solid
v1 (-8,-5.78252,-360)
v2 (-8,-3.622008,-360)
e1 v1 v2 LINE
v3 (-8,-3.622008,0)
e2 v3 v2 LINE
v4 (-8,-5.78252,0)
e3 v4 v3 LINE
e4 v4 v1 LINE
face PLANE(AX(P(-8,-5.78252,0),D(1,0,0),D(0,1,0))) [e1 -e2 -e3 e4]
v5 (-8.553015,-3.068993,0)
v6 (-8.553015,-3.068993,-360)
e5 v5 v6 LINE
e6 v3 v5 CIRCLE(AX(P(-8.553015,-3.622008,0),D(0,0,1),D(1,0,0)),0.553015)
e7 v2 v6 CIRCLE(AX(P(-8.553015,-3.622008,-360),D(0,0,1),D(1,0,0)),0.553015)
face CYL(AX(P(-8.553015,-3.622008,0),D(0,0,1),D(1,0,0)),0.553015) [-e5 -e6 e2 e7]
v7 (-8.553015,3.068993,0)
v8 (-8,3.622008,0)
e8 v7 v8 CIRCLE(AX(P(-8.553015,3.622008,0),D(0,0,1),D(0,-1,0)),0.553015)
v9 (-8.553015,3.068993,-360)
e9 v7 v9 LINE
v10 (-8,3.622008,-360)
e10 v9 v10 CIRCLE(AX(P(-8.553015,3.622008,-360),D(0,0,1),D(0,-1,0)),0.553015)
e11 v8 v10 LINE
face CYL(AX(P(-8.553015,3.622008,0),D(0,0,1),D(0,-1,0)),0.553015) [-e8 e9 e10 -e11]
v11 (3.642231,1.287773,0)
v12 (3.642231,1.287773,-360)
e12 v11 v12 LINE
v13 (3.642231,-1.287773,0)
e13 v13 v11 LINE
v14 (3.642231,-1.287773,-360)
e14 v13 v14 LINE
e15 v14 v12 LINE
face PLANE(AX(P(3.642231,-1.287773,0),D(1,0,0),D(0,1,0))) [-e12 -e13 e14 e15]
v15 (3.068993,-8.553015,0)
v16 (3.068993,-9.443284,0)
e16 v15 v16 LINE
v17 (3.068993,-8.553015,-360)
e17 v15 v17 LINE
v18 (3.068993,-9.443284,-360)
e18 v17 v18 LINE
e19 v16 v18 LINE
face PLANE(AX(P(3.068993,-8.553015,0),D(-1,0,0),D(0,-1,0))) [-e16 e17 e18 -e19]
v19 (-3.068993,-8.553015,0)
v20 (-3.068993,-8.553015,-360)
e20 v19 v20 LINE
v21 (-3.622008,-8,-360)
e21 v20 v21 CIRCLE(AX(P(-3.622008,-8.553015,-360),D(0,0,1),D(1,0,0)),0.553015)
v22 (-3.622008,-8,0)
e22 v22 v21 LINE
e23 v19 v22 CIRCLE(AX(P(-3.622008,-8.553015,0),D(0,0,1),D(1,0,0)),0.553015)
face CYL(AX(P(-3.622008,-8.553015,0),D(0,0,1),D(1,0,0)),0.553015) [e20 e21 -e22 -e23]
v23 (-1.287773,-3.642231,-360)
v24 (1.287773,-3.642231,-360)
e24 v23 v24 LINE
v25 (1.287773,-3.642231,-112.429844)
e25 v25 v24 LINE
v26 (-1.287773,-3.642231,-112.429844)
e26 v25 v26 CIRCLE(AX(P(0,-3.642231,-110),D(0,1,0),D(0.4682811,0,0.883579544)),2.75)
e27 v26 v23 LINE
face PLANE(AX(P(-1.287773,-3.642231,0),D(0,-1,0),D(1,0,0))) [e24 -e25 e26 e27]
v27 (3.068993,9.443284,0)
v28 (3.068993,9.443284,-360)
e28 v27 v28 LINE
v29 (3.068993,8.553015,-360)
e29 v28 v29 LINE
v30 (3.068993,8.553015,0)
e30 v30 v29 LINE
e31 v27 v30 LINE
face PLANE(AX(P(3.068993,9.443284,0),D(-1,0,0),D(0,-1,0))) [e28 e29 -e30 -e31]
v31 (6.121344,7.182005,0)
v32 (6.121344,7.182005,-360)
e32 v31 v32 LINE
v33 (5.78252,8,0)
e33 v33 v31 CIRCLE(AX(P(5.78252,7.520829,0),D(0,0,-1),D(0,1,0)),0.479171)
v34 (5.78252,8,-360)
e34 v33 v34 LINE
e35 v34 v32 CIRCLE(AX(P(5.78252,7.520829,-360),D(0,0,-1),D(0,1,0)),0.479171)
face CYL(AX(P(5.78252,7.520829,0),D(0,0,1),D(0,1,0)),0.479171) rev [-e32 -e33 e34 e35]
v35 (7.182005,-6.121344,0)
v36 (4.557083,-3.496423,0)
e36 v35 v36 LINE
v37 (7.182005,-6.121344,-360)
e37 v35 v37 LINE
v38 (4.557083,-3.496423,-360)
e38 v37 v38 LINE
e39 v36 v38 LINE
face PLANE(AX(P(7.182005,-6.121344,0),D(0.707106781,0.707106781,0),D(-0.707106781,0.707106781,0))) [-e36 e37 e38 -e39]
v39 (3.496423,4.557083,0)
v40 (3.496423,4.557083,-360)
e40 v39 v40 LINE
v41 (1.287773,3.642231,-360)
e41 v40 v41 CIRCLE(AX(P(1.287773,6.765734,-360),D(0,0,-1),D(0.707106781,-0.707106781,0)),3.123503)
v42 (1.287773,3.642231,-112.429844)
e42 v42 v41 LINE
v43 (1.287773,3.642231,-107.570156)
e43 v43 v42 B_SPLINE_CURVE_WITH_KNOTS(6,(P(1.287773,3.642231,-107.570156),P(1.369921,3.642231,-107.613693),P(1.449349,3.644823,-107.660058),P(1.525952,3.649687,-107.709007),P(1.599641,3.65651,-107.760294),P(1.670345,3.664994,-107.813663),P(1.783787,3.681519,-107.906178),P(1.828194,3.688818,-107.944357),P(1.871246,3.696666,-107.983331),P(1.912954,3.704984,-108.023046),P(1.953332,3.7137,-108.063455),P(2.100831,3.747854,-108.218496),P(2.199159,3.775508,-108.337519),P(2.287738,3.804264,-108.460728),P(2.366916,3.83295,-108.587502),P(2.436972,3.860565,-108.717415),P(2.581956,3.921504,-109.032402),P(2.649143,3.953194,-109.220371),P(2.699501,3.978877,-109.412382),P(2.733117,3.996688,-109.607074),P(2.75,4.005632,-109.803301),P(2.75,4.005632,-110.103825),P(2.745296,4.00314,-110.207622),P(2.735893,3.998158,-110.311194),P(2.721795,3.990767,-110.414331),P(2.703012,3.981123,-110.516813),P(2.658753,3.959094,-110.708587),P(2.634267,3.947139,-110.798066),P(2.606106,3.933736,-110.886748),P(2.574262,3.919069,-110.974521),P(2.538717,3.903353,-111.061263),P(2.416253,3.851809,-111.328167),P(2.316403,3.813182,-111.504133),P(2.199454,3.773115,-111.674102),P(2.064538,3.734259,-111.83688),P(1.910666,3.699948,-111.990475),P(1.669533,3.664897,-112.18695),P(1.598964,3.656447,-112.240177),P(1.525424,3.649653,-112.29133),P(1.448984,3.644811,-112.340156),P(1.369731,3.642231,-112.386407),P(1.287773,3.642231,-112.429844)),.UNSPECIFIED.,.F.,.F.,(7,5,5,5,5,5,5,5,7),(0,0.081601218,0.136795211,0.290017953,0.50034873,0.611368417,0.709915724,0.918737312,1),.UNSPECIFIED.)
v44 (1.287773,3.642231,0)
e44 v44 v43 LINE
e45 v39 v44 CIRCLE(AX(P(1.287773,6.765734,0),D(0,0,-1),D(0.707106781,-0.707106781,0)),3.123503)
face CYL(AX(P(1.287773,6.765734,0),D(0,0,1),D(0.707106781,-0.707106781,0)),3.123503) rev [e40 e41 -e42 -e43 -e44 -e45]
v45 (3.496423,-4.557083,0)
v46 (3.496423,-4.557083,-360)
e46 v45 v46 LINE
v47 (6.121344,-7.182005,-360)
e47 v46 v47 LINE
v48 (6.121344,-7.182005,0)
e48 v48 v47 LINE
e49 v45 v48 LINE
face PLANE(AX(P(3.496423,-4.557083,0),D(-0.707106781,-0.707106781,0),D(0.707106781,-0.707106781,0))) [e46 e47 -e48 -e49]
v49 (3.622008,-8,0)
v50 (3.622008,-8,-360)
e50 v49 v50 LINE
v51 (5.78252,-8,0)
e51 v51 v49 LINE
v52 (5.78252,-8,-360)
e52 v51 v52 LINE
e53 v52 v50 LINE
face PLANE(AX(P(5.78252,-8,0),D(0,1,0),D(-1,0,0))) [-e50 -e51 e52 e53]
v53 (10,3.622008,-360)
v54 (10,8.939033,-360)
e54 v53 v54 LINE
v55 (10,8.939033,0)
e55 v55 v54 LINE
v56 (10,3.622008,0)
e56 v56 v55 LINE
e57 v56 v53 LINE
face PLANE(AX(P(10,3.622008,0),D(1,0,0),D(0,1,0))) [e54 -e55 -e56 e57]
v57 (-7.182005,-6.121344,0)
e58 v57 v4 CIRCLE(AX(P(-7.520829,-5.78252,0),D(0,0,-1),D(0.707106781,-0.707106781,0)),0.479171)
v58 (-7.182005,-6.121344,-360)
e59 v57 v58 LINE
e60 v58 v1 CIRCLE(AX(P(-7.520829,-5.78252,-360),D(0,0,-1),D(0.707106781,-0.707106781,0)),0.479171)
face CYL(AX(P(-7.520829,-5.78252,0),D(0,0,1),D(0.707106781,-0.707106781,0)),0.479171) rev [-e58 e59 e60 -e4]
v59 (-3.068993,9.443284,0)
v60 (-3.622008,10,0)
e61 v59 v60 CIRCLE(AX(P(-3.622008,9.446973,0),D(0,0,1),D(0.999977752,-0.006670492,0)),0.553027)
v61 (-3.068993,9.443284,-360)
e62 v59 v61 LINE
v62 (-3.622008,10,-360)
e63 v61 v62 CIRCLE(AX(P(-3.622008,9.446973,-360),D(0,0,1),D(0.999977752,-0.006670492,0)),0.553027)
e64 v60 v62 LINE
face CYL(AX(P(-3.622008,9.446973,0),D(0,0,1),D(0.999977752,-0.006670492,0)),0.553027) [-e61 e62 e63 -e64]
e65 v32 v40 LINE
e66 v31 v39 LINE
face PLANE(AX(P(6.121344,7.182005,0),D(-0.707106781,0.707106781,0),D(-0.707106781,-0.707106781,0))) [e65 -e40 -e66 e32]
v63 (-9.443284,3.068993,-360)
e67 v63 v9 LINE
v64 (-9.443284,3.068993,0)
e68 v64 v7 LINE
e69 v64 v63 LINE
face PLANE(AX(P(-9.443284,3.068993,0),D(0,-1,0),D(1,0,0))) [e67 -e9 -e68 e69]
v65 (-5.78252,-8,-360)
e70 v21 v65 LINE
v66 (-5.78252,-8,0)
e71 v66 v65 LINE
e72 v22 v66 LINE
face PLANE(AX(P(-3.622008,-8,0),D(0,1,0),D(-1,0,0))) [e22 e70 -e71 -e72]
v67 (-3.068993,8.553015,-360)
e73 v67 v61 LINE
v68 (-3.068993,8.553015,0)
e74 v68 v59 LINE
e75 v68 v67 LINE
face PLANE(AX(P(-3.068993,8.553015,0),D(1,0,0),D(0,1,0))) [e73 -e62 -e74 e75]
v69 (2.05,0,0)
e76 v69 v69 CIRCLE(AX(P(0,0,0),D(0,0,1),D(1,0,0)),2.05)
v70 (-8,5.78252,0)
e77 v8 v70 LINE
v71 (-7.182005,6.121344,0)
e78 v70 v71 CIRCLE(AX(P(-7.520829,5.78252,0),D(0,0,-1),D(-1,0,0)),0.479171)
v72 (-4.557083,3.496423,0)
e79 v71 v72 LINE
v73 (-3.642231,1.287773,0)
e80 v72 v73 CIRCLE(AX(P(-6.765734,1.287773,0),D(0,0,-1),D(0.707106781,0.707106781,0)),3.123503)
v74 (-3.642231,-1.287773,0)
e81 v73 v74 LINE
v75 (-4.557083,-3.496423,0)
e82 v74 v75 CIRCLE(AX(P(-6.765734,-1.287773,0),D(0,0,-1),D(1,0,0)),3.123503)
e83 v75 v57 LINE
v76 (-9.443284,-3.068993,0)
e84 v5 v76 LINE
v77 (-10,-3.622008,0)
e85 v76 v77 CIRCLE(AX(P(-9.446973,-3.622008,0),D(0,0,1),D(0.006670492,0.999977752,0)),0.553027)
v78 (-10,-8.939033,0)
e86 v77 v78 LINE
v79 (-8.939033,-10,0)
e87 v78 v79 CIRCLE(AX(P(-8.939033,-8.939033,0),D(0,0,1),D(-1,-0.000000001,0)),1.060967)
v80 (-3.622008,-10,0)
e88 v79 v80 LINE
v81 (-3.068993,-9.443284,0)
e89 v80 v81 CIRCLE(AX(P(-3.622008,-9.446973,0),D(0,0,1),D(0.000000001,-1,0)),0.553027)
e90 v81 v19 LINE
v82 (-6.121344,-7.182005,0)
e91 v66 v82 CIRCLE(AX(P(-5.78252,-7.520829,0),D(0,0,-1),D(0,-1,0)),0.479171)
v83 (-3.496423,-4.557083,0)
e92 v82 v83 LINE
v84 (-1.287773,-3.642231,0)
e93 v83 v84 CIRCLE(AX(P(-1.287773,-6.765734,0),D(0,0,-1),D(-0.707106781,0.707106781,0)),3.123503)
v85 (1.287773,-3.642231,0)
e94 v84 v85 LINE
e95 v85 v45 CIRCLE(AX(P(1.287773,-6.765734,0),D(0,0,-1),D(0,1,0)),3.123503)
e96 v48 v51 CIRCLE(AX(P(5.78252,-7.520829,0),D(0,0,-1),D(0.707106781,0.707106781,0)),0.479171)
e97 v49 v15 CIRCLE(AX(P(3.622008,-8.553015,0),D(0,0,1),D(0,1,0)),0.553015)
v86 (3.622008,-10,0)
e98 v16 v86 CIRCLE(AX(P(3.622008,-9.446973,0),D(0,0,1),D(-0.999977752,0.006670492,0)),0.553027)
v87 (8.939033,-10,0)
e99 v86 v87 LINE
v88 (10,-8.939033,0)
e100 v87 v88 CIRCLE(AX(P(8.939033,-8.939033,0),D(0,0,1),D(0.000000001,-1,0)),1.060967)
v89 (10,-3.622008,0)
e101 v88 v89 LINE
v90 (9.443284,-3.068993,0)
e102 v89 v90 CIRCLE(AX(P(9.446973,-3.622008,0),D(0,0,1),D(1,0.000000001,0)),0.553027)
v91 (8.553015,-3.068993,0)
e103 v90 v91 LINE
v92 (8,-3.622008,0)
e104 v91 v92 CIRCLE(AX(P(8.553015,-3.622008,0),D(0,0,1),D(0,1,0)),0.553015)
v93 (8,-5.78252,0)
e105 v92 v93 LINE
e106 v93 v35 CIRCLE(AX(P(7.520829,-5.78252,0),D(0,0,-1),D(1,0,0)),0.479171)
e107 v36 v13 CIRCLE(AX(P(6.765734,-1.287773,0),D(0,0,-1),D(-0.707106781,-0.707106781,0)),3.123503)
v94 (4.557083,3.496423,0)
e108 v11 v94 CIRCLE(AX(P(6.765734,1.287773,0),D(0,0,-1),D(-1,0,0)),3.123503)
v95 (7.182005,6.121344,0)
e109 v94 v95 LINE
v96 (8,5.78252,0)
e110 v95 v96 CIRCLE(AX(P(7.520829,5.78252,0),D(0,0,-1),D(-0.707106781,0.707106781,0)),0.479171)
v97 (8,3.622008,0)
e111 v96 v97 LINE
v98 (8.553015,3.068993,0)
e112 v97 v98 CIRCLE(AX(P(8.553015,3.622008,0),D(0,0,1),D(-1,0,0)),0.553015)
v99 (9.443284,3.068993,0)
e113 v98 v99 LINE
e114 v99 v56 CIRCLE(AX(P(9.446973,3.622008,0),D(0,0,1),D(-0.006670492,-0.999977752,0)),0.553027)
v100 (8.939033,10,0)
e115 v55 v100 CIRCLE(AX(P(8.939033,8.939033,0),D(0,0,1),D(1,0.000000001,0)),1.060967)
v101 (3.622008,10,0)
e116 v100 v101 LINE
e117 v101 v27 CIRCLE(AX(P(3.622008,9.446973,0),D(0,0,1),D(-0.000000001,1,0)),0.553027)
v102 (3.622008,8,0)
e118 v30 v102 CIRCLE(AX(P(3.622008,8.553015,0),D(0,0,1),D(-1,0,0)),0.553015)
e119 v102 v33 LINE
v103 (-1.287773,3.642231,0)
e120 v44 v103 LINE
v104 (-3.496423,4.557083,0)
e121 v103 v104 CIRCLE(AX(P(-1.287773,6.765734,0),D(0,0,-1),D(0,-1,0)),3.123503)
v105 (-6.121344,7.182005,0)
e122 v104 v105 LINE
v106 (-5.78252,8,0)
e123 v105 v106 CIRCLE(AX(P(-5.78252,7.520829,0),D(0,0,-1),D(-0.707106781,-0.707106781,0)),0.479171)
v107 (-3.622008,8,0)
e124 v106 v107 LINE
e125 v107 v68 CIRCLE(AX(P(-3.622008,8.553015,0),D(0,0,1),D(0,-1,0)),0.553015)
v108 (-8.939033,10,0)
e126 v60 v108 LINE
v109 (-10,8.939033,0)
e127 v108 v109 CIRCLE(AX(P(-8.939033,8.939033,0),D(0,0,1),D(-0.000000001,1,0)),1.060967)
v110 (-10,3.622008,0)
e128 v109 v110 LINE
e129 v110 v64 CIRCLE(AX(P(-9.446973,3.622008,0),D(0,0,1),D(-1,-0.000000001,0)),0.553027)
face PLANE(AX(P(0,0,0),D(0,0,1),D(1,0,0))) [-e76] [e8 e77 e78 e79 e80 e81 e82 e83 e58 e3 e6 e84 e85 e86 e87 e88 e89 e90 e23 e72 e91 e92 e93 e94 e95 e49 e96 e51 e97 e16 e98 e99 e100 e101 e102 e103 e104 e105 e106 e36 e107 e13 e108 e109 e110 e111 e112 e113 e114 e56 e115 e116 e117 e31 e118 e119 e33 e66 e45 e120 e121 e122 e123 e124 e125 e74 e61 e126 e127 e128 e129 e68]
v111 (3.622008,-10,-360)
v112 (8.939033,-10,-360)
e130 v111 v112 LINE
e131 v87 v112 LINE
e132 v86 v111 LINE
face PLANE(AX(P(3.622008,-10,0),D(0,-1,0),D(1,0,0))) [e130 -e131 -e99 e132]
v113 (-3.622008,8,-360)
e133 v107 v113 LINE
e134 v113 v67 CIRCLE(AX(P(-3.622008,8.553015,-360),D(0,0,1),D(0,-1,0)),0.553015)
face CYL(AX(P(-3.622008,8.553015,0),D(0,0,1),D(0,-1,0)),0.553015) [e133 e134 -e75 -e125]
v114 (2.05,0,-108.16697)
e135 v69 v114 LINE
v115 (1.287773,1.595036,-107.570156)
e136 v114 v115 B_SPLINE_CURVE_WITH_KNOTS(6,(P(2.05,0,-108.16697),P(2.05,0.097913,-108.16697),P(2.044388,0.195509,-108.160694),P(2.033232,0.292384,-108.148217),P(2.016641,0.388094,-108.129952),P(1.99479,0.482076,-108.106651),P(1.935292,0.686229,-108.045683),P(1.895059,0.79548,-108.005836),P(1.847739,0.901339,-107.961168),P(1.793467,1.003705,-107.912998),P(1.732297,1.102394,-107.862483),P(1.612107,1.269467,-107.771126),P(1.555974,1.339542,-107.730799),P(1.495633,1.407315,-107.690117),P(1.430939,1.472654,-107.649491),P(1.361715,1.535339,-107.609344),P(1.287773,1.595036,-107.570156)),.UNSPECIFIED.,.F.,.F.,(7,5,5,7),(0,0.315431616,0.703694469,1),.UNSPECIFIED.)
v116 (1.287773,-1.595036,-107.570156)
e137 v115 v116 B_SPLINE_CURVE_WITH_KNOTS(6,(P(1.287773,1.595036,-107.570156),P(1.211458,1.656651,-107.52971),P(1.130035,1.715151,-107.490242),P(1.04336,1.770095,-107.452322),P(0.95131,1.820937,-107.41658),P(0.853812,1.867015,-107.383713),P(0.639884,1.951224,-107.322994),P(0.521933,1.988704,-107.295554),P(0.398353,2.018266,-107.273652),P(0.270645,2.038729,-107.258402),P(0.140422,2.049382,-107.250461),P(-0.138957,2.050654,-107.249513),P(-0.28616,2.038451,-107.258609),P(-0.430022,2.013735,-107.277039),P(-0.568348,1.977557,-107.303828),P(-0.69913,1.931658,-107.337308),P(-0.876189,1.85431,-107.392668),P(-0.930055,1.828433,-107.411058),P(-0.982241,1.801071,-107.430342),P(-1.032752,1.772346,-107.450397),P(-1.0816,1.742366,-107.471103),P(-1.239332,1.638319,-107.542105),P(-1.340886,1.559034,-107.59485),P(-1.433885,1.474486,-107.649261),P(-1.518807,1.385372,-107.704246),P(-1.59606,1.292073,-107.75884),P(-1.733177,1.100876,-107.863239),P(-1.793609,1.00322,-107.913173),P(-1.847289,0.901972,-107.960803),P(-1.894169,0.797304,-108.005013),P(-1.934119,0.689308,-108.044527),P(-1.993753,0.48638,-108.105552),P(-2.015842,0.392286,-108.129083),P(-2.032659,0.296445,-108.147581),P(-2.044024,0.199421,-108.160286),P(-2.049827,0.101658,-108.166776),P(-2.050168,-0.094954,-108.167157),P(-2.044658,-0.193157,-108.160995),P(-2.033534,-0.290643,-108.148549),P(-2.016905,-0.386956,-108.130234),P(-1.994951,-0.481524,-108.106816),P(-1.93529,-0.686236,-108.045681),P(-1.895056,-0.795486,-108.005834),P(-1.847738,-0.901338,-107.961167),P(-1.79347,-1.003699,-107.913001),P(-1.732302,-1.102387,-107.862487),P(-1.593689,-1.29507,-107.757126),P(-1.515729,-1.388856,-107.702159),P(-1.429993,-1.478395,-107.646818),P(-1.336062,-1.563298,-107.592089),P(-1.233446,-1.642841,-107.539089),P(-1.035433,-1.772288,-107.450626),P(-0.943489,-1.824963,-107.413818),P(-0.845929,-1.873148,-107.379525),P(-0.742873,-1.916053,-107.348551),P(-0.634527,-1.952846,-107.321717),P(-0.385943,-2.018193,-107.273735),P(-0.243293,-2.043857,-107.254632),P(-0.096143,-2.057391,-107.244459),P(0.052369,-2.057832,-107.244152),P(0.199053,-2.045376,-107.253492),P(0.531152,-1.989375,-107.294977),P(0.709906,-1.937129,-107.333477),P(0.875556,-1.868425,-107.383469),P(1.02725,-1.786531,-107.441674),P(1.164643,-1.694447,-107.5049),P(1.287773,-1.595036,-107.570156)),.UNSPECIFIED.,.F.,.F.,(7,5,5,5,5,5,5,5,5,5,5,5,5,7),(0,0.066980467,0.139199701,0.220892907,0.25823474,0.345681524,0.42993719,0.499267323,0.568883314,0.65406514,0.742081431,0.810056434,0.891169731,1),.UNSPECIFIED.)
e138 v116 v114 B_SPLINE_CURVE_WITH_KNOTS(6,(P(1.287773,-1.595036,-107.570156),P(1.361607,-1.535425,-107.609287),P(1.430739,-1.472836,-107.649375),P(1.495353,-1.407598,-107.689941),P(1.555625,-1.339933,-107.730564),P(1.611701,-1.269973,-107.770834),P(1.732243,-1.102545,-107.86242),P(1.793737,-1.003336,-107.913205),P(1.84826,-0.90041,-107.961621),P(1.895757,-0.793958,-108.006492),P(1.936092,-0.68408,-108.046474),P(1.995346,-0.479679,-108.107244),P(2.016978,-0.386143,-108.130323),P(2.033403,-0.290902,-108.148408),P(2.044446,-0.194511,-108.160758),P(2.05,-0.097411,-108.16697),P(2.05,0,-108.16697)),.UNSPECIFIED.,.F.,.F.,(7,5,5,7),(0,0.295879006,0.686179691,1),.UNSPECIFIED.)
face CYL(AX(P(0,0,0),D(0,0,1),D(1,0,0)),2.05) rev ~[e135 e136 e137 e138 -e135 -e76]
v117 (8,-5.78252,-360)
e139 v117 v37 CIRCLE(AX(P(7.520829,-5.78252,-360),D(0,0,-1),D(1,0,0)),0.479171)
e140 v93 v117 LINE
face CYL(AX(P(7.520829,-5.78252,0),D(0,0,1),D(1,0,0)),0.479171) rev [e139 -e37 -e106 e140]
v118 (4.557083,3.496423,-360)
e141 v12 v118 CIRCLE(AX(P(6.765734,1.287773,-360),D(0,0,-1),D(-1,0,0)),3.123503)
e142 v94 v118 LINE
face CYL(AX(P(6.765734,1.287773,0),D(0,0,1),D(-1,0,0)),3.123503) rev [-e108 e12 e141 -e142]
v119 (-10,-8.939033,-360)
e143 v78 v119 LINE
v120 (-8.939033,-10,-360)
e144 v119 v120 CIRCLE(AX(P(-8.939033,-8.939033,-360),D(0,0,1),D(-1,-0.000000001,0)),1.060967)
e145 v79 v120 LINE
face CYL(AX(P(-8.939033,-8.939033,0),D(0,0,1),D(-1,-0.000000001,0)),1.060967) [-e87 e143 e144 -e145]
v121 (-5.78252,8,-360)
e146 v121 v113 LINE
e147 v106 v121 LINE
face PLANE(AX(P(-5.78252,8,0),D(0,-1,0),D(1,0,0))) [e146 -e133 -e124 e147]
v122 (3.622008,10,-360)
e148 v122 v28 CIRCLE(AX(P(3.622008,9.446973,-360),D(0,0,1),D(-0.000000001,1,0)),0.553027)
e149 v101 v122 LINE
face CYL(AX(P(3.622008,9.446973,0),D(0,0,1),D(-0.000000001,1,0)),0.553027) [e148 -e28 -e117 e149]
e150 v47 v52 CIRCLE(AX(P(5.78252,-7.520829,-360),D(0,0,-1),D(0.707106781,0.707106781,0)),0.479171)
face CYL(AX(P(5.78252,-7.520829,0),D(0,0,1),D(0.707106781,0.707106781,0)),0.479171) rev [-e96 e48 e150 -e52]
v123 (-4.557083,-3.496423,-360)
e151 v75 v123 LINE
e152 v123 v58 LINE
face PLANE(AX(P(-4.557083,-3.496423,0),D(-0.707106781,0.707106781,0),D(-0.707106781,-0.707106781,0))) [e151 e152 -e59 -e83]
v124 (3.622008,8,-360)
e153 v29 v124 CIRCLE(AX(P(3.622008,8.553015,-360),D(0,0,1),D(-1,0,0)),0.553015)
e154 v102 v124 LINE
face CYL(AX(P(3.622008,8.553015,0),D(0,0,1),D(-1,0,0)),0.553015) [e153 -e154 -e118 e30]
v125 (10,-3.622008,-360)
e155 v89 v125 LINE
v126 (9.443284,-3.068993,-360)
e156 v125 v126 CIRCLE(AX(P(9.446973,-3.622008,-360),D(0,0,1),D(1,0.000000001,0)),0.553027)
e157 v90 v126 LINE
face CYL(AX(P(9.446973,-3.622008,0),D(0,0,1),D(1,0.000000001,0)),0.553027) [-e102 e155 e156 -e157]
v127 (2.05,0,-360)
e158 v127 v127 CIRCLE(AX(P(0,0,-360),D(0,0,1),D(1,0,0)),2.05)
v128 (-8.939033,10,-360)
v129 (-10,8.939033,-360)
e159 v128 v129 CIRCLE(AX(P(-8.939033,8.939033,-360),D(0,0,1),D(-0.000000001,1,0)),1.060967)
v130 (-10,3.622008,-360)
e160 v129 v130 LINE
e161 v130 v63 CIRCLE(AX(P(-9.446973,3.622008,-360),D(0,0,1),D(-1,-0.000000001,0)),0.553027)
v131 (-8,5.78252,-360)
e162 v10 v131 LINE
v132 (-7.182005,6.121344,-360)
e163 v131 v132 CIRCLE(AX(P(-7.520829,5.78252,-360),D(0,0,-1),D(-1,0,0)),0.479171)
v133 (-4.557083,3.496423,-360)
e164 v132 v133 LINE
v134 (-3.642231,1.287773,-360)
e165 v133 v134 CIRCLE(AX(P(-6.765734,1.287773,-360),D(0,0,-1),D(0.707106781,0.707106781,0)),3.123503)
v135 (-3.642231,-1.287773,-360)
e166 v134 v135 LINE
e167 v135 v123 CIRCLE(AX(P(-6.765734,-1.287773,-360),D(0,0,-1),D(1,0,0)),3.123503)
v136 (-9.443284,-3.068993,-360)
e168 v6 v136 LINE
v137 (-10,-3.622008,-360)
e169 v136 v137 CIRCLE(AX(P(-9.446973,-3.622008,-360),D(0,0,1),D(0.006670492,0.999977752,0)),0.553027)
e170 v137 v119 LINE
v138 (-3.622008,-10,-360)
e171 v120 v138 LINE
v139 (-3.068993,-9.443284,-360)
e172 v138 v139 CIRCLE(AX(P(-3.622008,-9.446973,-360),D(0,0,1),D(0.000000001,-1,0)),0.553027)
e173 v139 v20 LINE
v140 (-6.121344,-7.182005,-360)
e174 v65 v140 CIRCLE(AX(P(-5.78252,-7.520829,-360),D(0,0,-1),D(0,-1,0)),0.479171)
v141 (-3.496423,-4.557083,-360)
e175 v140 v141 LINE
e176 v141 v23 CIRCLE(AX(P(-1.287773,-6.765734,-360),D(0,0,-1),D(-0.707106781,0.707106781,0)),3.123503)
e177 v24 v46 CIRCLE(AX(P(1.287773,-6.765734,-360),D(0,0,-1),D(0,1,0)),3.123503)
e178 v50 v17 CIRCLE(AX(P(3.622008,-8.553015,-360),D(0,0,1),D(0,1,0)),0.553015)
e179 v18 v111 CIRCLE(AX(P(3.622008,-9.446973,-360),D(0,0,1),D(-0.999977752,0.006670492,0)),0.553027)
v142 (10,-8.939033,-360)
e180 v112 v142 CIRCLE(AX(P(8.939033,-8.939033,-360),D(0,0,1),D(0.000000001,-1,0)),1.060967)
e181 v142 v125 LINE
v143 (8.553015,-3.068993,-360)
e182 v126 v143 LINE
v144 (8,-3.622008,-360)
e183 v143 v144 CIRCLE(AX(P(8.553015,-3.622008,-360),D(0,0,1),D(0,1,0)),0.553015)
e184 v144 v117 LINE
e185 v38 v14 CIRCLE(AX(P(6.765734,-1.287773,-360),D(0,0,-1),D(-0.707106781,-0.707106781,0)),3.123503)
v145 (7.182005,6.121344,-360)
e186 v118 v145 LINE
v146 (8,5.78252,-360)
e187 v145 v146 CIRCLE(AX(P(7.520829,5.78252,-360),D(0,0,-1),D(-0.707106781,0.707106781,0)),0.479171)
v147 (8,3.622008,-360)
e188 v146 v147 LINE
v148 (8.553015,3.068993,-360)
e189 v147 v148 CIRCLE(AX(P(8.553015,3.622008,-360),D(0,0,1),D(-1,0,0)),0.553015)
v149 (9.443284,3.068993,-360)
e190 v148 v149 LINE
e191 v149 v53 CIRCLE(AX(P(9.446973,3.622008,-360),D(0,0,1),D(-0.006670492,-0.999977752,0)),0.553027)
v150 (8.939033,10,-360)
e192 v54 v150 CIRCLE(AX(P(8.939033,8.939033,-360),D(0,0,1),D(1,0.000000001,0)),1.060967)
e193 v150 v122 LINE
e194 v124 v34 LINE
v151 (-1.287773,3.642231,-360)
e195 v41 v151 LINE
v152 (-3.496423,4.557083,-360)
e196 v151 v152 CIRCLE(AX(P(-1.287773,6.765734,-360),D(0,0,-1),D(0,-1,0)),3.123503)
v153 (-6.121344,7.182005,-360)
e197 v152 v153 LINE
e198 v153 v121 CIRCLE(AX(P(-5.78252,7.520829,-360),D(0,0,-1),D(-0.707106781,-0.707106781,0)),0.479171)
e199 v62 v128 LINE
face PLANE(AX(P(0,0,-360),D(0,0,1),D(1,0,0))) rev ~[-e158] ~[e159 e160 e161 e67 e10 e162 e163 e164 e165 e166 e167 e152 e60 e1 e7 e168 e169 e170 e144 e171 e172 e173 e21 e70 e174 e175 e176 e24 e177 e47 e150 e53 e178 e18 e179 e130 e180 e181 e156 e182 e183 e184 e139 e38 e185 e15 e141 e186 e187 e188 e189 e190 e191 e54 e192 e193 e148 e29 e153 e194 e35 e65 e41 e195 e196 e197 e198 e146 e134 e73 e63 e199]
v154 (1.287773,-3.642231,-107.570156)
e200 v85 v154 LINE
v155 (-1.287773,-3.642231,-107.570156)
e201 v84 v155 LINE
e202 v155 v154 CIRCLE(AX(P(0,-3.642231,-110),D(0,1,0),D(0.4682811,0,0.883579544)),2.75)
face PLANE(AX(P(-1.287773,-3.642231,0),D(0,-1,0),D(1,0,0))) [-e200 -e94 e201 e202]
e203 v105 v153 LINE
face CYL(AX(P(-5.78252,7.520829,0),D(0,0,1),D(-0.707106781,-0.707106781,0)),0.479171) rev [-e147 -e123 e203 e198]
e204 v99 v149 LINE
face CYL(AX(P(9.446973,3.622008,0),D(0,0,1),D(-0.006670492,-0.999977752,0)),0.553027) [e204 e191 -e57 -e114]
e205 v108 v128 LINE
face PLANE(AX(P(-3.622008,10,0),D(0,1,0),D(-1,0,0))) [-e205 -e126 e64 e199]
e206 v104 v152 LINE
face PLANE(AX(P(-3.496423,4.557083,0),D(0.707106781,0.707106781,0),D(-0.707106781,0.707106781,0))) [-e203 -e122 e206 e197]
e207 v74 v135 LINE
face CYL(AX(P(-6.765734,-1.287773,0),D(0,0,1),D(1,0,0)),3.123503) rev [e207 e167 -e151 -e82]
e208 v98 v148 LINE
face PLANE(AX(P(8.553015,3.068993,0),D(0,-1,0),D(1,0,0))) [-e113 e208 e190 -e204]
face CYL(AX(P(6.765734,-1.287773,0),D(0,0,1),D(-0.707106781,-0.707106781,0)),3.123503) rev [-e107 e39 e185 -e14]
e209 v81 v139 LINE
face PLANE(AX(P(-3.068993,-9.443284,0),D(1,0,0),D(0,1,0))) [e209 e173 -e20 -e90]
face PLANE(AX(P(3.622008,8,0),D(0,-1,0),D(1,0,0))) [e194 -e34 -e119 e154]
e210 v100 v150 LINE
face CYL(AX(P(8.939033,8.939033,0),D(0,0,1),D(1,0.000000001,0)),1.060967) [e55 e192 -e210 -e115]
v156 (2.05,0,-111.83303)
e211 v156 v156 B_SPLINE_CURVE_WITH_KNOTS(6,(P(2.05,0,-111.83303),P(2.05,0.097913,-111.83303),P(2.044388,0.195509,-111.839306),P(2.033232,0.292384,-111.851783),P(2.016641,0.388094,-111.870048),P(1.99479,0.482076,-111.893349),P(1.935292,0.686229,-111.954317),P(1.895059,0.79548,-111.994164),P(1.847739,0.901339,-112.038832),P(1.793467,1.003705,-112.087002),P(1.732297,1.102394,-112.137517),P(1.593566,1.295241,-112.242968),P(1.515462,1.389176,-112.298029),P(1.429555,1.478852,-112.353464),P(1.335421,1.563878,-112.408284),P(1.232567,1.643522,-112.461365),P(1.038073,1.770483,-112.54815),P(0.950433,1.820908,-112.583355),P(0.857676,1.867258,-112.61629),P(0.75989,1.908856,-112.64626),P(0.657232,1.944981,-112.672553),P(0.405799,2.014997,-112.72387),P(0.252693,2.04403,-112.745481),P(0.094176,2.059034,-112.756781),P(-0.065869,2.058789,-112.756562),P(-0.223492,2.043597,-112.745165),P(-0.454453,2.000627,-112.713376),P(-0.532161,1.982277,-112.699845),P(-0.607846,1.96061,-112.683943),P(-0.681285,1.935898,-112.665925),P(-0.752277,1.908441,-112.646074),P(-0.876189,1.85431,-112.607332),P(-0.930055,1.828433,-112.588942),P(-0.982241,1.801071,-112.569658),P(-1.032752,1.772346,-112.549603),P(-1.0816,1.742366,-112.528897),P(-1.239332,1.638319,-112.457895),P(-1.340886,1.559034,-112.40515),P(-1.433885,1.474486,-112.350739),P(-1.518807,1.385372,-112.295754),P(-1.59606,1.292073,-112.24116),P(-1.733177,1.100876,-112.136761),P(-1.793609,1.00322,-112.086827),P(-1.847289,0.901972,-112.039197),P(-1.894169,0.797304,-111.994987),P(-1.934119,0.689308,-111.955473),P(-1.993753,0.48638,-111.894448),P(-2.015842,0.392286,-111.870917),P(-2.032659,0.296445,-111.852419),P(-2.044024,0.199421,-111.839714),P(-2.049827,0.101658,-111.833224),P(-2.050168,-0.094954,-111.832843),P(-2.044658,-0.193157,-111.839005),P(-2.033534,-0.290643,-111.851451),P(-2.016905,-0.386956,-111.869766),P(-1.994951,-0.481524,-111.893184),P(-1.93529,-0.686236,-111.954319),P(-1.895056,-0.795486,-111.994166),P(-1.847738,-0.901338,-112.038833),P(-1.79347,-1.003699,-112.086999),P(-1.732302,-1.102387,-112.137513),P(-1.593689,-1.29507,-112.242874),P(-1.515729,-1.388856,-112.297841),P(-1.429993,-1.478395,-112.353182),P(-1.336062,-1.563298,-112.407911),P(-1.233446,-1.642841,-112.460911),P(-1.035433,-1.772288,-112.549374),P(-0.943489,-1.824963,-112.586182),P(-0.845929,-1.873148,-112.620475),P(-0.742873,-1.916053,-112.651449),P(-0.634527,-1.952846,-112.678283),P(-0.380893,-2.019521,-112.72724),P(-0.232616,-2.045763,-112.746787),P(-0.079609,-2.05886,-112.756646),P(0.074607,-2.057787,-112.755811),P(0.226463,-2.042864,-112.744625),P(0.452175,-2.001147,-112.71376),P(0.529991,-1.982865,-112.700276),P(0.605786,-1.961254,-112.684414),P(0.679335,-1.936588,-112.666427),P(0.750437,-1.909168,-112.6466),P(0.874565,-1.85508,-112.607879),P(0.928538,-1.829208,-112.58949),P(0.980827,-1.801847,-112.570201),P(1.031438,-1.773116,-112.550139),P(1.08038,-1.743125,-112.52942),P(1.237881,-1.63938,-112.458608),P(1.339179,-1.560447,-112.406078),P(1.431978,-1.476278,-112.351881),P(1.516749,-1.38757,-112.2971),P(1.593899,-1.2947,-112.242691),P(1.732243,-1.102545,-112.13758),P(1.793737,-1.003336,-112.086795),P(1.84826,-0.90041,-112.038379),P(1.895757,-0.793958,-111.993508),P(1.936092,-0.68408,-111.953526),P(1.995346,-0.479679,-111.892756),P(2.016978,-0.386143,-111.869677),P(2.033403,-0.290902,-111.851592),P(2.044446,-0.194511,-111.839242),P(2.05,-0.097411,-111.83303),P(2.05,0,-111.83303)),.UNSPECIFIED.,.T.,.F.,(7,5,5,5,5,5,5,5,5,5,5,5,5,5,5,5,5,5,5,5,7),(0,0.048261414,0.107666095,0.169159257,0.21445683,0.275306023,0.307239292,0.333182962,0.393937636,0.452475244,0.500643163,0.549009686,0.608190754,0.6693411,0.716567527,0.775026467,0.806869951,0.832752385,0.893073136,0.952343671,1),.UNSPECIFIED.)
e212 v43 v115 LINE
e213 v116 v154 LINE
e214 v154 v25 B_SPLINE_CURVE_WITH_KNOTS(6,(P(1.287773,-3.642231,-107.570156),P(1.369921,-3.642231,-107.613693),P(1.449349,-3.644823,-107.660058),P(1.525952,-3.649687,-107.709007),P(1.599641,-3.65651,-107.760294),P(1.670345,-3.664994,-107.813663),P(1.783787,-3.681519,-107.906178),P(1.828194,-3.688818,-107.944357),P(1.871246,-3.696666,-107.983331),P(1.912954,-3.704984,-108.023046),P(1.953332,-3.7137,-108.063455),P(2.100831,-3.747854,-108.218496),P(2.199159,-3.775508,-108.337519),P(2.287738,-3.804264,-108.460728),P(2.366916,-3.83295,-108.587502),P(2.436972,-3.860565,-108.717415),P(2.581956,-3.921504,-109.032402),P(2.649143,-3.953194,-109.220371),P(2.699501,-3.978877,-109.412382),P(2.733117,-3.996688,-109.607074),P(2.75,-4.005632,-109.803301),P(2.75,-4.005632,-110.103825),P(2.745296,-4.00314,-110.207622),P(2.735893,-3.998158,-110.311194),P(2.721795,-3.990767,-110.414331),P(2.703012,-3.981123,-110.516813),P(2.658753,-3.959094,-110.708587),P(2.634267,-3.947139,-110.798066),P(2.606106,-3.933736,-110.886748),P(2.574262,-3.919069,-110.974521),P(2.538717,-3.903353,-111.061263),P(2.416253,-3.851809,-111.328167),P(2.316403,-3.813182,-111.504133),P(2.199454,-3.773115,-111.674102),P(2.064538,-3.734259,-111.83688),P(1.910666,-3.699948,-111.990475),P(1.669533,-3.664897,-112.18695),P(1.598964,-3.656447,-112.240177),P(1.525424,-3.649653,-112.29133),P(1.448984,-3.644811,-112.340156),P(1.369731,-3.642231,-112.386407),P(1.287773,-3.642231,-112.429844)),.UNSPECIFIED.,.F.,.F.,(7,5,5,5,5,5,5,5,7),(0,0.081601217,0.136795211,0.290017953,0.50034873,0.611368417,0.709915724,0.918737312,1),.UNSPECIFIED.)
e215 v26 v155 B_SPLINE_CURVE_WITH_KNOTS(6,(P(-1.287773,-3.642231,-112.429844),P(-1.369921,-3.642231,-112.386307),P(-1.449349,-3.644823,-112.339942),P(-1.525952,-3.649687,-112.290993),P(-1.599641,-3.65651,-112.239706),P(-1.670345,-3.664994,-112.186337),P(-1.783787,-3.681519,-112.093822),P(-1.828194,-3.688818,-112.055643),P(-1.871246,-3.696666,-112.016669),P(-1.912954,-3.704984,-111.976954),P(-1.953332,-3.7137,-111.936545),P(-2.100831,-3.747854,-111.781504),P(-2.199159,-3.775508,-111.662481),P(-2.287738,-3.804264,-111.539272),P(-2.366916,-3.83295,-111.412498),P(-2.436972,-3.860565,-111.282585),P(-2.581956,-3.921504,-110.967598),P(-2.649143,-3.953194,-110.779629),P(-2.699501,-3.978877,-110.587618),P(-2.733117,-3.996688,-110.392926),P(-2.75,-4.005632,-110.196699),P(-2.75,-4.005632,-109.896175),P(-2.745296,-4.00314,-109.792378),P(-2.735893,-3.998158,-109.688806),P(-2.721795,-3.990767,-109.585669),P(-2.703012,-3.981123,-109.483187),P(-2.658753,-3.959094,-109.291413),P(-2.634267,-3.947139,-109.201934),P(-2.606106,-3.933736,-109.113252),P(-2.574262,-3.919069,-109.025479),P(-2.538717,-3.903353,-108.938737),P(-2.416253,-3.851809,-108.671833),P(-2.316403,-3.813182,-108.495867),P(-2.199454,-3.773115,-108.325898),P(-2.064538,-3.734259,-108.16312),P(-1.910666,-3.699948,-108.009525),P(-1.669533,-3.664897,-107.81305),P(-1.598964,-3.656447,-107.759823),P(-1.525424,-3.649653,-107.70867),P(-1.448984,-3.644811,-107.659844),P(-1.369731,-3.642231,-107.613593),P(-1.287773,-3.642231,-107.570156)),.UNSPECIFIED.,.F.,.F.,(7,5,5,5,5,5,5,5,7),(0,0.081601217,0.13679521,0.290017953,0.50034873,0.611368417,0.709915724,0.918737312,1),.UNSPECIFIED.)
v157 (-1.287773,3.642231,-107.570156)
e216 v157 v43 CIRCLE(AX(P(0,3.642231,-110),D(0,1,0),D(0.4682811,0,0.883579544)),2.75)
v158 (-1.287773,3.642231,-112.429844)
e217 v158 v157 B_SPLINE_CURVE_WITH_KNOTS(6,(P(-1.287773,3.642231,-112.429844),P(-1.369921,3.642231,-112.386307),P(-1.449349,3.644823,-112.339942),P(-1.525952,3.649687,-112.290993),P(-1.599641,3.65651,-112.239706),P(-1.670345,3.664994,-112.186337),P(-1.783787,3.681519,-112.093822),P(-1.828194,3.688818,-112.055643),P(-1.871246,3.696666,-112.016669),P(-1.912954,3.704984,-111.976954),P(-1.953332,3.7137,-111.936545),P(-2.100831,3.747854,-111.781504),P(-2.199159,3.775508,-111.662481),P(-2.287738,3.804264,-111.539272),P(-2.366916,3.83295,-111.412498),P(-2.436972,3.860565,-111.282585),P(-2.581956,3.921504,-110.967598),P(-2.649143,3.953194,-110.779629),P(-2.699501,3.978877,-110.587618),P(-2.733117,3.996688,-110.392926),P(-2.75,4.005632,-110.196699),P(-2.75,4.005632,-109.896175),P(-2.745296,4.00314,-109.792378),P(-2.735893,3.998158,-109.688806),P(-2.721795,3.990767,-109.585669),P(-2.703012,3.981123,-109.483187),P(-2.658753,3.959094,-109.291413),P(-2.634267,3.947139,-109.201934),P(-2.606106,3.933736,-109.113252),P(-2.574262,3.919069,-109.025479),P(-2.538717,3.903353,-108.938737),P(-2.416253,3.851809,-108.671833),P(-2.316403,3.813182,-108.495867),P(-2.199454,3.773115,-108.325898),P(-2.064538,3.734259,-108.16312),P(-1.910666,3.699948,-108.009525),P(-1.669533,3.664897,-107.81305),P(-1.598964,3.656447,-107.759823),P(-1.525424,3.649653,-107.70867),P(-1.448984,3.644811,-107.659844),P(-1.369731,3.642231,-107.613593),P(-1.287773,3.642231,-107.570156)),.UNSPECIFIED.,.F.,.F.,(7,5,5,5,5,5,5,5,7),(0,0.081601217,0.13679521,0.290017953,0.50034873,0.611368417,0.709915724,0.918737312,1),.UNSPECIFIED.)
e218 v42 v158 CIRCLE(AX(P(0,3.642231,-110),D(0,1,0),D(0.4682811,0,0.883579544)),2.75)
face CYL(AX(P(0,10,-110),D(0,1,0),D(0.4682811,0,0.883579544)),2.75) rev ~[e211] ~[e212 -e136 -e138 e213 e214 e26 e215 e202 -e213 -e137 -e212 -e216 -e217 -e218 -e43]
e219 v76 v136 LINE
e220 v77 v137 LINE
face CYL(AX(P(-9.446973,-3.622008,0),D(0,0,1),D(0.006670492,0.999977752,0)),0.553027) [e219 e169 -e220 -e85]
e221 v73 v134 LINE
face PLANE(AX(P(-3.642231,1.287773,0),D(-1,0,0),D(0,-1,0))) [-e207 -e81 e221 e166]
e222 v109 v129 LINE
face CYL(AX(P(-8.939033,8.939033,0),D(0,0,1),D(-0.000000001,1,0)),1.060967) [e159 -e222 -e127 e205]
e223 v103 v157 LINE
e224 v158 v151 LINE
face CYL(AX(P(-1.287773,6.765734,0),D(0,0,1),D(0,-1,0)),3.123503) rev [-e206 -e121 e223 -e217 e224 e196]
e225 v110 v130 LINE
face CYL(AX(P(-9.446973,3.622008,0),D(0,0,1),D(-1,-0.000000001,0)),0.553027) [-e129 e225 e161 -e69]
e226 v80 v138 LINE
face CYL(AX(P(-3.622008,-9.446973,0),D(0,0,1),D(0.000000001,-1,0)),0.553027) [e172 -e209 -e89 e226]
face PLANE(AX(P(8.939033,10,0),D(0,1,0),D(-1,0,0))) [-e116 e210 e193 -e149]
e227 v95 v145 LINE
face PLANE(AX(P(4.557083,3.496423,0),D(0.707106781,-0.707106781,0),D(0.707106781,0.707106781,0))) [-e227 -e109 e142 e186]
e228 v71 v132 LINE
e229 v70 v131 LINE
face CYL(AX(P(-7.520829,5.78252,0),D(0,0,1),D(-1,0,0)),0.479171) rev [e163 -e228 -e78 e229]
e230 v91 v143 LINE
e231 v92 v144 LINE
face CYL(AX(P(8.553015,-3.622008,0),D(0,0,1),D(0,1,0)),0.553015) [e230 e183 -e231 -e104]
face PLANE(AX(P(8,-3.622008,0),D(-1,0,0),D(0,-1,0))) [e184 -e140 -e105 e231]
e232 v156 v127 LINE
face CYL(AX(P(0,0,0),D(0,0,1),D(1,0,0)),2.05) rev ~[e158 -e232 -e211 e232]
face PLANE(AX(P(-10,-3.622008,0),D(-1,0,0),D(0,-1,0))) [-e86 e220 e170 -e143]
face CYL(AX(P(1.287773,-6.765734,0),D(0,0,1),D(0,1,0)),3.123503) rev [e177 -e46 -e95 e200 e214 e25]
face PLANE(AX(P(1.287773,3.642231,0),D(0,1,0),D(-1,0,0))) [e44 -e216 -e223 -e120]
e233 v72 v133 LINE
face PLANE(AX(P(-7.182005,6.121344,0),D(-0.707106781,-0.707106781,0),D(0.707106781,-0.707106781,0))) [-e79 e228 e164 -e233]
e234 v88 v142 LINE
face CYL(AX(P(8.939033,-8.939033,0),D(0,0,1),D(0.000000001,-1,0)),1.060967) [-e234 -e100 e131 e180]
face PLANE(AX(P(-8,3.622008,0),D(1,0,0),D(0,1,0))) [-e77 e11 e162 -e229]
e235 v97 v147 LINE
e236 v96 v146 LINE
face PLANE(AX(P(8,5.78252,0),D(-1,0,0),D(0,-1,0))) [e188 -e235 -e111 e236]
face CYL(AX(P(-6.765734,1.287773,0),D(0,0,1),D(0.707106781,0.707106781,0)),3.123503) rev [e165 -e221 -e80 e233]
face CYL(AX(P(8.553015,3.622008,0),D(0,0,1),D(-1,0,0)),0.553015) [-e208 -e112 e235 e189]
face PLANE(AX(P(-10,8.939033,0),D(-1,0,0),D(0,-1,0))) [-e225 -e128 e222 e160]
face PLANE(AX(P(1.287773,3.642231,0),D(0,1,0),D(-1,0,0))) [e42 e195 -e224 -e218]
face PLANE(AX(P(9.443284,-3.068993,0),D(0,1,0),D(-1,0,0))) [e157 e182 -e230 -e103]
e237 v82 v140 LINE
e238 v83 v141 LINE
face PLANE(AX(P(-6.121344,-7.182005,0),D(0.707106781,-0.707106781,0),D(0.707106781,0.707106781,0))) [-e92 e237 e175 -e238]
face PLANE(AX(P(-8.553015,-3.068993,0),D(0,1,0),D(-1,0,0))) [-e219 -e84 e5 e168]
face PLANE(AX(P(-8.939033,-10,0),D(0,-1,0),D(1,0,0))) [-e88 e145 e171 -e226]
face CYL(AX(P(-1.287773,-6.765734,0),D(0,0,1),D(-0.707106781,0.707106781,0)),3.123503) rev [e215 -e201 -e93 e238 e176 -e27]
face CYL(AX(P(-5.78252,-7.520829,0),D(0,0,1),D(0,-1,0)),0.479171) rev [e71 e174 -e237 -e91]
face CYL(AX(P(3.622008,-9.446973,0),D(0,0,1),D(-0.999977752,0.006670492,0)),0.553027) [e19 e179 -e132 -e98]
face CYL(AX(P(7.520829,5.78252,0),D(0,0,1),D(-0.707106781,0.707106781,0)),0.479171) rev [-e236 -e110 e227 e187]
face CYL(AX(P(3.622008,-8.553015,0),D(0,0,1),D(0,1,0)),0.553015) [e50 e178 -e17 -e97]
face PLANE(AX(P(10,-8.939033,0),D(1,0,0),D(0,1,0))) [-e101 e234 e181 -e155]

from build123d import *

# Parameters (mm, degrees)
SKETCH2_R           = 2.05
BOSS_EXTRUDE1_DEPTH = 360
SKETCH3_R           = 2.75
CUT_EXTRUDE1_DEPTH  = 34


with BuildPart() as part:
    # Sketch2 → Boss-Extrude1 (new body)
    with BuildSketch(Plane.XY):
        with BuildLine():
            Line((-3.642230561, 1.287773026), (-3.642230561, -1.287773026))
            ThreePointArc((-3.642230561, -1.287773026), (-3.87999308, -2.483085929), (-4.55708345, -3.496423279))
            Line((-4.55708345, -3.496423279), (-7.182004606, -6.121344434))
            ThreePointArc((-7.182004606, -6.121344434), (-7.704200045, -6.225215565), (-8, -5.782519648))
            Line((-8, -5.782519648), (-8, -3.622007668))
            ThreePointArc((-8, -3.622007668), (-8.161974206, -3.230967343), (-8.553014531, -3.068993137))
            Line((-8.553014531, -3.068993137), (-9.443284204, -3.068993137))
            ThreePointArc((-9.443284204, -3.068993137), (-9.836715763, -3.229656566), (-10, -3.622007668))
            Line((-10, -3.622007668), (-10, -8.939033256))
            ThreePointArc((-10, -8.939033256), (-9.689250035, -9.689250035), (-8.939033256, -10))
            Line((-8.939033256, -10), (-3.622007668, -10))
            ThreePointArc((-3.622007668, -10), (-3.229656566, -9.836715763), (-3.068993137, -9.443284204))
            Line((-3.068993137, -9.443284204), (-3.068993137, -8.553014531))
            ThreePointArc((-3.068993137, -8.553014531), (-3.230967343, -8.161974206), (-3.622007668, -8))
            Line((-3.622007668, -8), (-5.782519648, -8))
            ThreePointArc((-5.782519648, -8), (-6.225215565, -7.704200045), (-6.121344434, -7.182004606))
            Line((-6.121344434, -7.182004606), (-3.496423279, -4.55708345))
            ThreePointArc((-3.496423279, -4.55708345), (-2.483085929, -3.87999308), (-1.287773026, -3.642230561))
            Line((-1.287773026, -3.642230561), (1.287773026, -3.642230561))
            ThreePointArc((1.287773026, -3.642230561), (2.483085929, -3.87999308), (3.496423279, -4.55708345))
            Line((3.496423279, -4.55708345), (6.121344434, -7.182004606))
            ThreePointArc((6.121344434, -7.182004606), (6.225215565, -7.704200045), (5.782519648, -8))
            Line((5.782519648, -8), (3.622007668, -8))
            ThreePointArc((3.622007668, -8), (3.230967343, -8.161974206), (3.068993137, -8.553014531))
            Line((3.068993137, -8.553014531), (3.068993137, -9.443284204))
            ThreePointArc((3.068993137, -9.443284204), (3.229656566, -9.836715763), (3.622007668, -10))
            Line((3.622007668, -10), (8.939033256, -10))
            ThreePointArc((8.939033256, -10), (9.689250035, -9.689250035), (10, -8.939033256))
            Line((10, -8.939033256), (10, -3.622007668))
            ThreePointArc((10, -3.622007668), (9.836715763, -3.229656566), (9.443284204, -3.068993137))
            Line((9.443284204, -3.068993137), (8.553014531, -3.068993137))
            ThreePointArc((8.553014531, -3.068993137), (8.161974206, -3.230967343), (8, -3.622007668))
            Line((8, -3.622007668), (8, -5.782519648))
            ThreePointArc((8, -5.782519648), (7.704200045, -6.225215565), (7.182004606, -6.121344434))
            Line((7.182004606, -6.121344434), (4.55708345, -3.496423279))
            ThreePointArc((4.55708345, -3.496423279), (3.87999308, -2.483085929), (3.642230561, -1.287773026))
            Line((3.642230561, -1.287773026), (3.642230561, 1.287773026))
            ThreePointArc((3.642230561, 1.287773026), (3.87999308, 2.483085929), (4.55708345, 3.496423279))
            Line((4.55708345, 3.496423279), (7.182004606, 6.121344434))
            ThreePointArc((7.182004606, 6.121344434), (7.704200045, 6.225215565), (8, 5.782519648))
            Line((8, 5.782519648), (8, 3.622007668))
            ThreePointArc((8, 3.622007668), (8.161974206, 3.230967343), (8.553014531, 3.068993137))
            Line((8.553014531, 3.068993137), (9.443284204, 3.068993137))
            ThreePointArc((9.443284204, 3.068993137), (9.836715763, 3.229656566), (10, 3.622007668))
            Line((10, 3.622007668), (10, 8.939033256))
            ThreePointArc((10, 8.939033256), (9.689250035, 9.689250035), (8.939033256, 10))
            Line((8.939033256, 10), (3.622007668, 10))
            ThreePointArc((3.622007668, 10), (3.229656566, 9.836715763), (3.068993137, 9.443284204))
            Line((3.068993137, 9.443284204), (3.068993137, 8.553014531))
            ThreePointArc((3.068993137, 8.553014531), (3.230967343, 8.161974206), (3.622007668, 8))
            Line((3.622007668, 8), (5.782519648, 8))
            ThreePointArc((5.782519648, 8), (6.225215565, 7.704200045), (6.121344434, 7.182004606))
            Line((6.121344434, 7.182004606), (3.496423279, 4.55708345))
            ThreePointArc((3.496423279, 4.55708345), (2.483085929, 3.87999308), (1.287773026, 3.642230561))
            Line((1.287773026, 3.642230561), (-1.287773026, 3.642230561))
            ThreePointArc((-1.287773026, 3.642230561), (-2.483085929, 3.87999308), (-3.496423279, 4.55708345))
            Line((-3.496423279, 4.55708345), (-6.121344434, 7.182004606))
            ThreePointArc((-6.121344434, 7.182004606), (-6.225215565, 7.704200045), (-5.782519648, 8))
            Line((-5.782519648, 8), (-3.622007668, 8))
            ThreePointArc((-3.622007668, 8), (-3.230967343, 8.161974206), (-3.068993137, 8.553014531))
            Line((-3.068993137, 8.553014531), (-3.068993137, 9.443284204))
            ThreePointArc((-3.068993137, 9.443284204), (-3.229656566, 9.836715763), (-3.622007668, 10))
            Line((-3.622007668, 10), (-8.939033256, 10))
            ThreePointArc((-8.939033256, 10), (-9.689250035, 9.689250035), (-10, 8.939033256))
            Line((-10, 8.939033256), (-10, 3.622007668))
            ThreePointArc((-10, 3.622007668), (-9.836715763, 3.229656566), (-9.443284204, 3.068993137))
            Line((-9.443284204, 3.068993137), (-8.553014531, 3.068993137))
            ThreePointArc((-8.553014531, 3.068993137), (-8.161974206, 3.230967343), (-8, 3.622007668))
            Line((-8, 3.622007668), (-8, 5.782519648))
            ThreePointArc((-8, 5.782519648), (-7.704200045, 6.225215565), (-7.182004606, 6.121344434))
            Line((-7.182004606, 6.121344434), (-4.55708345, 3.496423279))
            ThreePointArc((-4.55708345, 3.496423279), (-3.87999308, 2.483085929), (-3.642230561, 1.287773026))
        make_face()
        Circle(SKETCH2_R, mode=Mode.SUBTRACT)
    extrude(amount=-BOSS_EXTRUDE1_DEPTH)

    # Sketch3 → Cut-Extrude1 (cut)
    with BuildSketch(Plane(origin=(0, 10, 0), x_dir=(1, 0, 0), z_dir=(0, 1, 0))):
        with Locations(Location((0, 110, 0), (0, 0, 297.922776764))):
            Circle(SKETCH3_R)
    extrude(amount=-CUT_EXTRUDE1_DEPTH, mode=Mode.SUBTRACT)


solid = part.part
